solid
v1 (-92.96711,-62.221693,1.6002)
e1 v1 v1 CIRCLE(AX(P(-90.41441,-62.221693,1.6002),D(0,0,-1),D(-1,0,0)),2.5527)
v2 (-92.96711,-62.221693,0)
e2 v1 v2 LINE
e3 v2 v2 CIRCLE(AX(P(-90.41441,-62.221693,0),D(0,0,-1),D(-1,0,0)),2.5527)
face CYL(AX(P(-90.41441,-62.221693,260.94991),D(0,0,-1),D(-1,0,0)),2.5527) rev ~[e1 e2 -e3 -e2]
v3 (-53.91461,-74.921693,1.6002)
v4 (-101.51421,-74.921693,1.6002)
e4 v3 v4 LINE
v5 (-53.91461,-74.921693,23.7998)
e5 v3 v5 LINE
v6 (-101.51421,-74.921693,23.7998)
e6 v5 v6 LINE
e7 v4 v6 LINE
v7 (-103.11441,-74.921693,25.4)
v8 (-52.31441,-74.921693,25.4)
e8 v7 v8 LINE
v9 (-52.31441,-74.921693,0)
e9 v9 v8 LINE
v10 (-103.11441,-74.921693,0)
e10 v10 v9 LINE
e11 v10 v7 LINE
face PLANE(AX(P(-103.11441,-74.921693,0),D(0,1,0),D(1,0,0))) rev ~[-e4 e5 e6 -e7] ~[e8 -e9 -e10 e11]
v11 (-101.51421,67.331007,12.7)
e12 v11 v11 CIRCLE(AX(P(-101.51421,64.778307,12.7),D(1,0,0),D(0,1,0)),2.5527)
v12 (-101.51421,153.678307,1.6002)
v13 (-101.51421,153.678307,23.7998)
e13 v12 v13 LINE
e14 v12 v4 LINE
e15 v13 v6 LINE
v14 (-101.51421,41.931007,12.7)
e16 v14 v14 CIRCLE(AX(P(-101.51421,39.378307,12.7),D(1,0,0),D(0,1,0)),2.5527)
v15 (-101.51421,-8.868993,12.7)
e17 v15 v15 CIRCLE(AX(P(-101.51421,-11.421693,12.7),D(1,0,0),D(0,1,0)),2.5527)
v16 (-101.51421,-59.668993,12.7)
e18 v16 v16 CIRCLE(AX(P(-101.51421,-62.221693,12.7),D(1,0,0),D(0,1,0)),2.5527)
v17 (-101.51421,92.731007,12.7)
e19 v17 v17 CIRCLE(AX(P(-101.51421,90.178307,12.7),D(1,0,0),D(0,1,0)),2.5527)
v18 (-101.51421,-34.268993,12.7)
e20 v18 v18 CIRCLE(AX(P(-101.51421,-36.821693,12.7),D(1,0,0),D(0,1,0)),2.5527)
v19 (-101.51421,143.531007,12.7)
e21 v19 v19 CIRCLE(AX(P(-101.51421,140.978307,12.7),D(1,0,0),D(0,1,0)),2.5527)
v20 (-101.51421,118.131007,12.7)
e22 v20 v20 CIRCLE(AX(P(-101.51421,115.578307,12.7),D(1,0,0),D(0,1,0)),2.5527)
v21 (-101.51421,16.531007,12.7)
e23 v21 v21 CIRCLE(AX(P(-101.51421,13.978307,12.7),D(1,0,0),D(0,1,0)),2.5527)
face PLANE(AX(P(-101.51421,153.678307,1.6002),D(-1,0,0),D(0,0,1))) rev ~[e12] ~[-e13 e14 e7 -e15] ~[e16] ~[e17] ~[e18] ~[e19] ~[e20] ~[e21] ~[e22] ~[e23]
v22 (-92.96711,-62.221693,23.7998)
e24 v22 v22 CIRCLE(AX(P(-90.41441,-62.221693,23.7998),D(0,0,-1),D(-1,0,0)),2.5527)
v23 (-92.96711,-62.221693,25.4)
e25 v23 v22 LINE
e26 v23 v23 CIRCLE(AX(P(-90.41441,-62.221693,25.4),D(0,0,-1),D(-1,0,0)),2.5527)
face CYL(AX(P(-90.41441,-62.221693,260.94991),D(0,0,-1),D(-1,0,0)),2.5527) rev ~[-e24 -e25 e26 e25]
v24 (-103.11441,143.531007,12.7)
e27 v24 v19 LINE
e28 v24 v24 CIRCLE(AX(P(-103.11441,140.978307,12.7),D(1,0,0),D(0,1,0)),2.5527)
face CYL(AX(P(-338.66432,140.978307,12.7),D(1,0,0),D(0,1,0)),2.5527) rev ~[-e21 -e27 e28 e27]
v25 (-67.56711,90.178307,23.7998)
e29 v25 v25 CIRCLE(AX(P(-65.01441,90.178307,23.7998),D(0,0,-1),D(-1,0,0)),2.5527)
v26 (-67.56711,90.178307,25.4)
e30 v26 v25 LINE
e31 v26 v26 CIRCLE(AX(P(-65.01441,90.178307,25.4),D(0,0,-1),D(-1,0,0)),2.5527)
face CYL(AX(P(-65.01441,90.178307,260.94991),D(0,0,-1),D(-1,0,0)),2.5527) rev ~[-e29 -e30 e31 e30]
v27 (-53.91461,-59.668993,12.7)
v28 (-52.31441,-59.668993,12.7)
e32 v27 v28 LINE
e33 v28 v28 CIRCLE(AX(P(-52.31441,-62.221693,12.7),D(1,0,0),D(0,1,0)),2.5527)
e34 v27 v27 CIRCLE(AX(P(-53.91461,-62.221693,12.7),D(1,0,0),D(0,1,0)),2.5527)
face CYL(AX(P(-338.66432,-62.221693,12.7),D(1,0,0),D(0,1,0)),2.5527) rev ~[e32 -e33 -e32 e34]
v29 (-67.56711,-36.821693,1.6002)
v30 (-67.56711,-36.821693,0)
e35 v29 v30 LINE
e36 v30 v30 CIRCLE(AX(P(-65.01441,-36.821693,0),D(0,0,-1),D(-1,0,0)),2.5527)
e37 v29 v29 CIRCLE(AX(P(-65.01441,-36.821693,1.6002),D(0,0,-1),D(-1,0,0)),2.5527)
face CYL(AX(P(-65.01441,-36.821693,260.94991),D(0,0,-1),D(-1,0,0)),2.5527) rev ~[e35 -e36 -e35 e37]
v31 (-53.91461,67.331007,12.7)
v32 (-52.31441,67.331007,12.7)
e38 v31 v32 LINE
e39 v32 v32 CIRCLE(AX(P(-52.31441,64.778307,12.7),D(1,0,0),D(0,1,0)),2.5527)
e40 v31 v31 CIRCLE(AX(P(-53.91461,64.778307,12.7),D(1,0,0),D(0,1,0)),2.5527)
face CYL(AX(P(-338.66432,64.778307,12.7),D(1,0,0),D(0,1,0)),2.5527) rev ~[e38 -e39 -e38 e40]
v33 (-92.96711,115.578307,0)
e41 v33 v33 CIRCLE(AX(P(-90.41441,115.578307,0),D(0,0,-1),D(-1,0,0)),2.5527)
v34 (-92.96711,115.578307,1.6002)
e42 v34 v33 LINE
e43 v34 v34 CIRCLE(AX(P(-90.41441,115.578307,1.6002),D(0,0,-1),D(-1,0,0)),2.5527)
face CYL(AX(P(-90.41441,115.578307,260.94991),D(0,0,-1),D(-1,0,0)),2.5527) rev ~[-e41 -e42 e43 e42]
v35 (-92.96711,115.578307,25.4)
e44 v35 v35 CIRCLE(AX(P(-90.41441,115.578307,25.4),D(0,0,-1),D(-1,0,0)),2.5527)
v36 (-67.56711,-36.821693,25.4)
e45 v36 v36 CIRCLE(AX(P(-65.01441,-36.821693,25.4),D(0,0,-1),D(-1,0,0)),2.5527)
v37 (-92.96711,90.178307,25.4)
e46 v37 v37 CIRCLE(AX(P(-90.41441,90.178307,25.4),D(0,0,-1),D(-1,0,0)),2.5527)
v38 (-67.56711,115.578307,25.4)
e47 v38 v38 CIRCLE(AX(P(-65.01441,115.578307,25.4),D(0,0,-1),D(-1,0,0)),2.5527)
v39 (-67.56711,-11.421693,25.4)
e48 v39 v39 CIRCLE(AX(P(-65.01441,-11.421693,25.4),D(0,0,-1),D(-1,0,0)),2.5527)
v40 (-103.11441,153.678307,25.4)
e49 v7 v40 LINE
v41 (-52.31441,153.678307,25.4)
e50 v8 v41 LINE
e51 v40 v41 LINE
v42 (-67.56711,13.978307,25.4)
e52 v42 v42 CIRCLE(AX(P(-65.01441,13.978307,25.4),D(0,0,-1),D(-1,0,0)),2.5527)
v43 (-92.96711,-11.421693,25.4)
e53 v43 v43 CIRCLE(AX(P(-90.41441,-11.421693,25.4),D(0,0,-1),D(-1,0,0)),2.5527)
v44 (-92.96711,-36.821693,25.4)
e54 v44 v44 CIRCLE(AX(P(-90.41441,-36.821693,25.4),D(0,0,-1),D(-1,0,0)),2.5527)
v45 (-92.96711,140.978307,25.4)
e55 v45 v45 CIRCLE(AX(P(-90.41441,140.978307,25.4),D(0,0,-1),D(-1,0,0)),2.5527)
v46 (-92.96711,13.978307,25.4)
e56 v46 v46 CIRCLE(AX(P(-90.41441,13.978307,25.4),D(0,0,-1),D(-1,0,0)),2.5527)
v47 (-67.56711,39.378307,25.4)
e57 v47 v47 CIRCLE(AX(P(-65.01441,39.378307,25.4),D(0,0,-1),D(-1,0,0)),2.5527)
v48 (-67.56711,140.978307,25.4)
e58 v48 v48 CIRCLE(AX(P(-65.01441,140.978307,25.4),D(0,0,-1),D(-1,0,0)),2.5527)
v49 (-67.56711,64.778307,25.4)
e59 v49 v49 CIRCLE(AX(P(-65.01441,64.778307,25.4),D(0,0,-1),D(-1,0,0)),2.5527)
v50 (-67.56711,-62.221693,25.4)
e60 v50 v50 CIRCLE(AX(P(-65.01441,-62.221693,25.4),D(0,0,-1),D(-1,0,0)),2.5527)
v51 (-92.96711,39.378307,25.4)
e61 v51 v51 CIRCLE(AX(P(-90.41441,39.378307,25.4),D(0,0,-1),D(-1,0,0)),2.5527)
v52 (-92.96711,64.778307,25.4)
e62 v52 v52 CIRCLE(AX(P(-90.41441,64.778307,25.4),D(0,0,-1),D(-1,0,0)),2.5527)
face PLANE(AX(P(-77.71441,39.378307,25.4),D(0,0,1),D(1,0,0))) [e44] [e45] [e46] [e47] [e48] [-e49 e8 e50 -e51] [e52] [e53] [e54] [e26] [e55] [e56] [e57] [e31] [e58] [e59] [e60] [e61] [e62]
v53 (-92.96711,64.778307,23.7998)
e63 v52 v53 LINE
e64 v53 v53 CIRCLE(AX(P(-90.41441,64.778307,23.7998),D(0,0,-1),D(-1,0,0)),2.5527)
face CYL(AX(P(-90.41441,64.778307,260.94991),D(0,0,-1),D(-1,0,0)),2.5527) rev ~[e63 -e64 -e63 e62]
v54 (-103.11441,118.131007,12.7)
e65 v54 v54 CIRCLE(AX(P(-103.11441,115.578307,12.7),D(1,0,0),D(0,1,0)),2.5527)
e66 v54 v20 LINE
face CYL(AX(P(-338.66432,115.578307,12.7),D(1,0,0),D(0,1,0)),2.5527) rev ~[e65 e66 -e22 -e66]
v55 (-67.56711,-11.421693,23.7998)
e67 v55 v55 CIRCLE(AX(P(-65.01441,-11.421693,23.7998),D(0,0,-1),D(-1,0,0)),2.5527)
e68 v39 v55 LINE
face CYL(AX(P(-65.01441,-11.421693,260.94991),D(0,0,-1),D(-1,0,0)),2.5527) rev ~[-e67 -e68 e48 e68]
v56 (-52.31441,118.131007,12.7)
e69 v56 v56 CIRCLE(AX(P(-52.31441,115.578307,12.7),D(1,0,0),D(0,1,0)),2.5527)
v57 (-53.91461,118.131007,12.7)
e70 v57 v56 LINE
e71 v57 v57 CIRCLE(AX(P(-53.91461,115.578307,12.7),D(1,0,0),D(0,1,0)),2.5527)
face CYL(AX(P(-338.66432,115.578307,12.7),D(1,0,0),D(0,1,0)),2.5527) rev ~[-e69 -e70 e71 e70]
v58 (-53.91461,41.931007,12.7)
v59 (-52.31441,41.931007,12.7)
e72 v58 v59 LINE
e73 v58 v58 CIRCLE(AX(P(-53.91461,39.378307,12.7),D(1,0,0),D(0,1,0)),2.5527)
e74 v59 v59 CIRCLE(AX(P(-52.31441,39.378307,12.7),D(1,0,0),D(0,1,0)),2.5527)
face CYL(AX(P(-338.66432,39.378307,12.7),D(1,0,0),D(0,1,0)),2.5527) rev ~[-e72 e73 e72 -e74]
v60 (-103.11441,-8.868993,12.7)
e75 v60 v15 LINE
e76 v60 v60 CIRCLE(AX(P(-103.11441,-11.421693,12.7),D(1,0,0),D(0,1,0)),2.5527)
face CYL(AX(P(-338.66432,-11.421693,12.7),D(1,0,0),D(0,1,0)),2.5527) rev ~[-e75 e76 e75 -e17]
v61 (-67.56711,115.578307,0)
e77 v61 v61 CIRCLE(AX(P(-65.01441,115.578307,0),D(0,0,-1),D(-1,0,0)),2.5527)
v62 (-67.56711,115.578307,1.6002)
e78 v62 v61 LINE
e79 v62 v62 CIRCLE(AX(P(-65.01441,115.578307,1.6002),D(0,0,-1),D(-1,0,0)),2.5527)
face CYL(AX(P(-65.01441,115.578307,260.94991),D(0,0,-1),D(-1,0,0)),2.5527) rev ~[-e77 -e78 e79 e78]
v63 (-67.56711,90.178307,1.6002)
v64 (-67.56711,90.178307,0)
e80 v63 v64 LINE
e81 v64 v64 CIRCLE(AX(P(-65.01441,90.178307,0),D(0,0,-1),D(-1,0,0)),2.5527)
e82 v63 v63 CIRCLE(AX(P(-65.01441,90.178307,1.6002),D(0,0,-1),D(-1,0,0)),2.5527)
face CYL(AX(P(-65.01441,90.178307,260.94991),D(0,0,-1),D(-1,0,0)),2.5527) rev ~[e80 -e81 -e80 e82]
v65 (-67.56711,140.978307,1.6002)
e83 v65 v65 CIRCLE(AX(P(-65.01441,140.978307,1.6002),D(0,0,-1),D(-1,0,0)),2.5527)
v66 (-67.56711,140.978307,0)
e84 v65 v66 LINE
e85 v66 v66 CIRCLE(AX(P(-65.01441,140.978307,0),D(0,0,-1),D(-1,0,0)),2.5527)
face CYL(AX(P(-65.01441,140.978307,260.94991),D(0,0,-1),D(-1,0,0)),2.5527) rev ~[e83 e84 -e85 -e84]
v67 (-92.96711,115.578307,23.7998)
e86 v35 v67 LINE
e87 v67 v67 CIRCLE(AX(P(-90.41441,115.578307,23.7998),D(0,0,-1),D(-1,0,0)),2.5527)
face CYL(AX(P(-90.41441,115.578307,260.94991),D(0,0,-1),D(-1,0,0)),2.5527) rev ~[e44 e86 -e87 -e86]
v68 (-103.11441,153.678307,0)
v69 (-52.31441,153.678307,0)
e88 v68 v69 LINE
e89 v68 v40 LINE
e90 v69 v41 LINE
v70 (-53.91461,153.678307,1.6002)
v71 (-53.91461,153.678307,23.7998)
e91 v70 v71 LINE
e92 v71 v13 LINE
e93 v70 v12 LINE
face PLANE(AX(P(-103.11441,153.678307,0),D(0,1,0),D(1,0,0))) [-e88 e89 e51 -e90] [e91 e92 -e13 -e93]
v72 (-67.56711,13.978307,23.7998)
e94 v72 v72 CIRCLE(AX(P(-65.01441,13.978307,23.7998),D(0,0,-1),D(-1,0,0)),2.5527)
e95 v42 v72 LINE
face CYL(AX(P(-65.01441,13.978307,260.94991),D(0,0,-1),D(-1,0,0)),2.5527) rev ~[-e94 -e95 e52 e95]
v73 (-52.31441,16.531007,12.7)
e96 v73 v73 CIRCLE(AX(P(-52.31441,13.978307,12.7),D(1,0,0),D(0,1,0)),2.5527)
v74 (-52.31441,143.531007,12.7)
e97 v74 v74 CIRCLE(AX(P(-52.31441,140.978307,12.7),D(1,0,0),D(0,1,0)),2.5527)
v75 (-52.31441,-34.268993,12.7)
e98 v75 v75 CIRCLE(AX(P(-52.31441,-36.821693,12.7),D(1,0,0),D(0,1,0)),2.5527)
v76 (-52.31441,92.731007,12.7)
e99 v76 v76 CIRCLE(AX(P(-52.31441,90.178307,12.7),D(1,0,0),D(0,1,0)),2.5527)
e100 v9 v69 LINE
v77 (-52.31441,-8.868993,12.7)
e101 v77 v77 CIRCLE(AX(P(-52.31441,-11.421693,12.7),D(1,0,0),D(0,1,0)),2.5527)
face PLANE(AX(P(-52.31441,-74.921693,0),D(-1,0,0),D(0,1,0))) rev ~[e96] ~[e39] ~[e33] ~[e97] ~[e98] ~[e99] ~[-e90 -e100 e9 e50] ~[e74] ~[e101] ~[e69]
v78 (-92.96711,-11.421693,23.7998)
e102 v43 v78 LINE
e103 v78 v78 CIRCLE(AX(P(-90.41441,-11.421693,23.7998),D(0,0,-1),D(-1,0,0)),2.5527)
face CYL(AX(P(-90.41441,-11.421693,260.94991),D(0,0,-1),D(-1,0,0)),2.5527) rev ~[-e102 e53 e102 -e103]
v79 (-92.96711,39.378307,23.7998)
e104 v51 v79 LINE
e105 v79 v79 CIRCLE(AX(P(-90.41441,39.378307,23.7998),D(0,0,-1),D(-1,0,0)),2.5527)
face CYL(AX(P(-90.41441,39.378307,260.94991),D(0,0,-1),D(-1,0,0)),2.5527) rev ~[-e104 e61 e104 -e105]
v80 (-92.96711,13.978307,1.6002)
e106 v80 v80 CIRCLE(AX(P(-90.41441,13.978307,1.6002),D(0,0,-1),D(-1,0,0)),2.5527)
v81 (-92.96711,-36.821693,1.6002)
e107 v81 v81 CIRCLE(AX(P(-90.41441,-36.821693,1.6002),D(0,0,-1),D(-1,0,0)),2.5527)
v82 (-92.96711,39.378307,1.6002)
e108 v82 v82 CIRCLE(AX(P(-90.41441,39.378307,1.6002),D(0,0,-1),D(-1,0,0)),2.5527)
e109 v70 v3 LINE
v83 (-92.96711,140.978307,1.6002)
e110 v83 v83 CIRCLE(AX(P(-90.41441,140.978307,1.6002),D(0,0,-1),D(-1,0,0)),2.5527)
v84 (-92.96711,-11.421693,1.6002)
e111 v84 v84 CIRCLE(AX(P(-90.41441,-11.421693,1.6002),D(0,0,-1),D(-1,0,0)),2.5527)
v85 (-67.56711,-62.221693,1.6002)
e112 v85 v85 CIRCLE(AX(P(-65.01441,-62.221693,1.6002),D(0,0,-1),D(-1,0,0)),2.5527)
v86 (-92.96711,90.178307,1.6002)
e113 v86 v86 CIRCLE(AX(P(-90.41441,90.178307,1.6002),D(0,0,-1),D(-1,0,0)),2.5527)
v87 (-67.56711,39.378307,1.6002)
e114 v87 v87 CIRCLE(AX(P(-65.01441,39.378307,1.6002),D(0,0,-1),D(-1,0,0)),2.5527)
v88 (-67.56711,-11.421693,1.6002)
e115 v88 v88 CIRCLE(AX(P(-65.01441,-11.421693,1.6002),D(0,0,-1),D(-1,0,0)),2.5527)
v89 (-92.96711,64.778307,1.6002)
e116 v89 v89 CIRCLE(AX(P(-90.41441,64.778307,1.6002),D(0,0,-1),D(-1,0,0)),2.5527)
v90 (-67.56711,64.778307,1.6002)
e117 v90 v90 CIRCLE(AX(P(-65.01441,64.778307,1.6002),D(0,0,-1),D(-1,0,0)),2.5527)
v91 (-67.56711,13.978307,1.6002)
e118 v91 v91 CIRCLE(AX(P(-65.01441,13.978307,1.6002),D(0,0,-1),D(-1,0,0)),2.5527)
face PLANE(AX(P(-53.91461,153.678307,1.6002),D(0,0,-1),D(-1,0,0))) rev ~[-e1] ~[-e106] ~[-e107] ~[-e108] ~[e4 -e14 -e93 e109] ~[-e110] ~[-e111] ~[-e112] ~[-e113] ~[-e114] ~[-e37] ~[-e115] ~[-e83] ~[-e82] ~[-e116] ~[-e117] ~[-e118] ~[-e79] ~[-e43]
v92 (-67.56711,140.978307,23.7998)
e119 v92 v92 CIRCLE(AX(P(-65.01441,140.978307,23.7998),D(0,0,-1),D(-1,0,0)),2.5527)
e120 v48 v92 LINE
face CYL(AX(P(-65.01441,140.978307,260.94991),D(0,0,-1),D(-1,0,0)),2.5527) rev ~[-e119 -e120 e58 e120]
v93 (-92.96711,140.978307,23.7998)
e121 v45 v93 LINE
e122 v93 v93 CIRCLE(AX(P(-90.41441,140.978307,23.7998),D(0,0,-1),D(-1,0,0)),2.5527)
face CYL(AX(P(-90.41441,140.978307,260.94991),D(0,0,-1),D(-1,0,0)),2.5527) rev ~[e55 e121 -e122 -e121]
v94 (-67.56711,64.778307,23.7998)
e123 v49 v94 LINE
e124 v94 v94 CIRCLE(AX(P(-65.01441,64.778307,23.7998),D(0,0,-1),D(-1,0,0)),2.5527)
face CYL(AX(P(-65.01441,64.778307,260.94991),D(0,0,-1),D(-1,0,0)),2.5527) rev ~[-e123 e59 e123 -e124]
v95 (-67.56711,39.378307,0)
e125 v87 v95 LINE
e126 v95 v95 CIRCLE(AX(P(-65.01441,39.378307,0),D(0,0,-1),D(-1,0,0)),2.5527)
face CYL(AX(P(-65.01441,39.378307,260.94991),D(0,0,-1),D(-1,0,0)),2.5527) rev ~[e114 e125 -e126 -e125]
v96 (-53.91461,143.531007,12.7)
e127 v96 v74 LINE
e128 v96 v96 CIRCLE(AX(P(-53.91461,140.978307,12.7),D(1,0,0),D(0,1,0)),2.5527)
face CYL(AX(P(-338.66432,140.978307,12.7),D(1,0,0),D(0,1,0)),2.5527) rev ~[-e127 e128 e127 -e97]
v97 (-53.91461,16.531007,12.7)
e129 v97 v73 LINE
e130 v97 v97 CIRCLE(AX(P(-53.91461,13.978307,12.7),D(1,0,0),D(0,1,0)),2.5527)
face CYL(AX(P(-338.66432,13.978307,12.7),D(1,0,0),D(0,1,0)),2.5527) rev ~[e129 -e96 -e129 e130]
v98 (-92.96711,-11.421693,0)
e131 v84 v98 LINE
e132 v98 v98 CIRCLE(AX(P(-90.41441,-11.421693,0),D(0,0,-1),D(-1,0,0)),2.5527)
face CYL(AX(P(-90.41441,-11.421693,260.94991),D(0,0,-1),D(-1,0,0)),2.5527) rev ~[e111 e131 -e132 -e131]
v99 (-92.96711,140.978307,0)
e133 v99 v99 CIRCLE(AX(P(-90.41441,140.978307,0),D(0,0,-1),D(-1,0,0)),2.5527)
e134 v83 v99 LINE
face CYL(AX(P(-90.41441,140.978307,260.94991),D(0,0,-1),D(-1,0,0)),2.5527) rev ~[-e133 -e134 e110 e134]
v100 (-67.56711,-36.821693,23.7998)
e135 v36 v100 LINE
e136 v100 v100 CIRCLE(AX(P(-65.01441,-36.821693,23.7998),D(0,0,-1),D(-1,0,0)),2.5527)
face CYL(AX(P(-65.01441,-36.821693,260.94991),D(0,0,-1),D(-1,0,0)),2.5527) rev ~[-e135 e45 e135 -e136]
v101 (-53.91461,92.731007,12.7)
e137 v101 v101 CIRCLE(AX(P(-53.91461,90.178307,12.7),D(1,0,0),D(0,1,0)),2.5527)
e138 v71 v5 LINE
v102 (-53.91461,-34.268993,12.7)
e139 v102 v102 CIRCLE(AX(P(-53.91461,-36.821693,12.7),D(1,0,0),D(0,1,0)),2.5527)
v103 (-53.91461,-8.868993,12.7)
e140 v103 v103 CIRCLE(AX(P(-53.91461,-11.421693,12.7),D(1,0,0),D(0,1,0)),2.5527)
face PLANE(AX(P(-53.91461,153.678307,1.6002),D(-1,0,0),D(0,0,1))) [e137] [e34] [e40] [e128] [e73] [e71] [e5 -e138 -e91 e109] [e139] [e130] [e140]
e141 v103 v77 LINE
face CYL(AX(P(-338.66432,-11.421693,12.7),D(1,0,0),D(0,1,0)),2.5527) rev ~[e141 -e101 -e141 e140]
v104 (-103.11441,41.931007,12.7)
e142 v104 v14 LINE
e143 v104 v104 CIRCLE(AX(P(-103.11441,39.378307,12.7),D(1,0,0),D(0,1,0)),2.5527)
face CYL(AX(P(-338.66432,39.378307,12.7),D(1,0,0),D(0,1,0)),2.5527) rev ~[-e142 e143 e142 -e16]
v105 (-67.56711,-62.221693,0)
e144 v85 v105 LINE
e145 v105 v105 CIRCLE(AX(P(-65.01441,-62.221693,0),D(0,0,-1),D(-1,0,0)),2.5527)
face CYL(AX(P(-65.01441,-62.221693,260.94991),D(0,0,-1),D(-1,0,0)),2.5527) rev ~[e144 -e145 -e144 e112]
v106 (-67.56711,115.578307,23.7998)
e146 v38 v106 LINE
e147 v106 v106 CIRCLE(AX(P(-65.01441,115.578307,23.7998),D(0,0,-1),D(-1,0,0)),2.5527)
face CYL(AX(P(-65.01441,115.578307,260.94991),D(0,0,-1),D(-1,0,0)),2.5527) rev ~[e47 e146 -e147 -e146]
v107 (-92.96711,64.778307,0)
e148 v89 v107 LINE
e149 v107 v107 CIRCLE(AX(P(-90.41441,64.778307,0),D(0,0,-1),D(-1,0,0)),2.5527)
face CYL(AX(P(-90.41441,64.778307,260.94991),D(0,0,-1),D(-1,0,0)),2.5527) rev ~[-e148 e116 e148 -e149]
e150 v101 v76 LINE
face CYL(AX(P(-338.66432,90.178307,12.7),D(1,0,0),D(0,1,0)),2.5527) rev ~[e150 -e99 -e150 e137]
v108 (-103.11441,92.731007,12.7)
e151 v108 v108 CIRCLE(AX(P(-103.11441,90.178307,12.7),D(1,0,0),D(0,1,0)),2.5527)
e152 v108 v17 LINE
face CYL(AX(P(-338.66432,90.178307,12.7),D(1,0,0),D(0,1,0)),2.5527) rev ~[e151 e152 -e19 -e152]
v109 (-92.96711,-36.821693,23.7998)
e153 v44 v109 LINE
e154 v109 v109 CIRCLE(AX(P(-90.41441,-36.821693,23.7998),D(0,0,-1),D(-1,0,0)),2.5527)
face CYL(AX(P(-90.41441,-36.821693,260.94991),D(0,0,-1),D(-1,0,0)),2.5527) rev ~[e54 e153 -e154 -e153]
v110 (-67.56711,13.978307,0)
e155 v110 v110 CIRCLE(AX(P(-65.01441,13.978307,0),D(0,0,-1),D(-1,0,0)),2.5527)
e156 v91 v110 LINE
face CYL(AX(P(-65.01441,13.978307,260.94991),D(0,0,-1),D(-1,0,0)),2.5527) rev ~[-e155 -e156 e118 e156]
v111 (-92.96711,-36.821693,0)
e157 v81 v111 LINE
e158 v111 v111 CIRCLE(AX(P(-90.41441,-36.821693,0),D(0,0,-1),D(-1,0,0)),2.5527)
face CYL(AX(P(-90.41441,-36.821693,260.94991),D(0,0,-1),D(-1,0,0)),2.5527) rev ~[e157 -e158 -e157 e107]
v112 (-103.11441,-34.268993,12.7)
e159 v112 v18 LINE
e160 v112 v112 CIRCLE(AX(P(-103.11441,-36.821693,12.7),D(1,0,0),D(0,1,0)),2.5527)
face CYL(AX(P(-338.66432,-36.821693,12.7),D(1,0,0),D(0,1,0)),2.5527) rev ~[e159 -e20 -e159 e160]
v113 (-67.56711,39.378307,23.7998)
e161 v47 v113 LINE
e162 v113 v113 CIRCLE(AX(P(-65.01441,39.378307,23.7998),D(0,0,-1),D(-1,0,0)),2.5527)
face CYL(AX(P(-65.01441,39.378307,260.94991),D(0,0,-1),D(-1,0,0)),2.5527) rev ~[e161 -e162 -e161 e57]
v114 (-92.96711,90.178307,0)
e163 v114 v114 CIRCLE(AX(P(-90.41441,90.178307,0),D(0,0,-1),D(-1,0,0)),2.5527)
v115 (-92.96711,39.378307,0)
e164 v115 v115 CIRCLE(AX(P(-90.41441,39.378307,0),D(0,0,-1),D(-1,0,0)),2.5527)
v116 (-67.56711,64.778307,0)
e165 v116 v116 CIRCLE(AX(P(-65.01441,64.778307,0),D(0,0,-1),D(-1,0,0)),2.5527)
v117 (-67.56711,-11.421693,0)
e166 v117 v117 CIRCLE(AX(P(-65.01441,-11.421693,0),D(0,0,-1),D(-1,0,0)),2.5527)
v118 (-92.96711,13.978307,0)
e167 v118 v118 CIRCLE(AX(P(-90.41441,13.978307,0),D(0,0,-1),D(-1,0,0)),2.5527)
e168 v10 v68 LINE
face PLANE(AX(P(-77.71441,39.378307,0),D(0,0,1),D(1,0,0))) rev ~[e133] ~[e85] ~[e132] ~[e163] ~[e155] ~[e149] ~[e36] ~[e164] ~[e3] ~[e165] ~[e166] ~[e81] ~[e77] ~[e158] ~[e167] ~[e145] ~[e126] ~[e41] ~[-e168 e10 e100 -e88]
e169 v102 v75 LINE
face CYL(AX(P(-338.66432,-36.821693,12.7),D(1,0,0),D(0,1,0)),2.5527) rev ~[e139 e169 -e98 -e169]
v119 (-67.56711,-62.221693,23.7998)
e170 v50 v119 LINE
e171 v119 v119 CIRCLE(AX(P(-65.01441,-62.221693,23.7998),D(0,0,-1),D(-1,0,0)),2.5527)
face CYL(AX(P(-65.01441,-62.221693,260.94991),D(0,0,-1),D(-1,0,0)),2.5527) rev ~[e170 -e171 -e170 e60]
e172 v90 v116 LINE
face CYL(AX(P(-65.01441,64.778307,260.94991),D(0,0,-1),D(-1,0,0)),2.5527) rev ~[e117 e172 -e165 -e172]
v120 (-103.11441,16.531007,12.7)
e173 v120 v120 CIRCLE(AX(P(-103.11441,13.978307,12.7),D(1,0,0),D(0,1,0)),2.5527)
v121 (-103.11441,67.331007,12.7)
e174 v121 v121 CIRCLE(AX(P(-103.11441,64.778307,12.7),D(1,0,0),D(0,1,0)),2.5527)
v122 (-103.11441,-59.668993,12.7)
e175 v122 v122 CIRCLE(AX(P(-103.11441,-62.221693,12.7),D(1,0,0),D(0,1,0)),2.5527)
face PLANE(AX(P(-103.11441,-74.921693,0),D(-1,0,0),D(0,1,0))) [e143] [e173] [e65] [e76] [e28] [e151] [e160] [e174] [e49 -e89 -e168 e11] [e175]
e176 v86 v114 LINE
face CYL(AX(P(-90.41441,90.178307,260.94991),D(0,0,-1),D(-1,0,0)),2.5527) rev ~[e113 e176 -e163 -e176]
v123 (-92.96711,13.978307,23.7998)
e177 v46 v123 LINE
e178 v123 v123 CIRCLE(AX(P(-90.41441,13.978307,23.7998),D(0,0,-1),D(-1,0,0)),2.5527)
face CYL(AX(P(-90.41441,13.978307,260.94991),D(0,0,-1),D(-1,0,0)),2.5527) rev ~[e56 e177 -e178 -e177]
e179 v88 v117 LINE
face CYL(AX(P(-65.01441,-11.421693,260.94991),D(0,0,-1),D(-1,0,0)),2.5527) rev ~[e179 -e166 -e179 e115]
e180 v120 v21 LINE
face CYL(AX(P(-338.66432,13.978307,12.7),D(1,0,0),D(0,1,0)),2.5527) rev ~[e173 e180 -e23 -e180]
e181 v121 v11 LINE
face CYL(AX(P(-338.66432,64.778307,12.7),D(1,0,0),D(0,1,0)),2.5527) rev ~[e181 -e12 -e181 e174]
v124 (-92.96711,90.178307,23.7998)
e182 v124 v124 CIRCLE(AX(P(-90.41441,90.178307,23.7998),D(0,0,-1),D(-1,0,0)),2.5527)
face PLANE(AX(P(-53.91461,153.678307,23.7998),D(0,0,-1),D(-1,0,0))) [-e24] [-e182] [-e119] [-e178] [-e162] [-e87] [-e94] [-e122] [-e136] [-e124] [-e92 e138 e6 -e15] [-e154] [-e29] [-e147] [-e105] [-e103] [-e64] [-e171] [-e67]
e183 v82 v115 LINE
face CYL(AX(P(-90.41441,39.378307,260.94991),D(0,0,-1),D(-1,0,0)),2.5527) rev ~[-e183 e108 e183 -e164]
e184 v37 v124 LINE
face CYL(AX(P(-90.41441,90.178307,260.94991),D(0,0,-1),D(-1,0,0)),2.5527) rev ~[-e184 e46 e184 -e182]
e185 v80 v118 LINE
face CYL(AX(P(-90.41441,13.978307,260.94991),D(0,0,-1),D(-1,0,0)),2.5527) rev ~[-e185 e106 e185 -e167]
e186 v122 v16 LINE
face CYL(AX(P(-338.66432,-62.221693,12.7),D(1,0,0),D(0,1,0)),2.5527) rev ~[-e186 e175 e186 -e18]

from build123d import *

# Parameters (mm, degrees)
F0_W     = 50.8
F0_H     = 228.6
F1_DEPTH = 25.4
F2_W     = 47.5996
F2_H     = 22.1996
F3_DEPTH = 228.601
F5_D     = 5.1054
F7_D     = 5.1054


with BuildPart() as f1:
    # F0 (on Top) → F1 (new body)
    with BuildSketch(Plane.XY):
        with Locations((-77.71441, 39.378307)):
            Rectangle(F0_W, F0_H)
    extrude(amount=F1_DEPTH)

    # F2 (on face) → F3 (cut, through all)
    with BuildSketch(Plane(origin=(0, 153.678307, 0), x_dir=(-1, 0, 0), z_dir=(0, 1, 0))):
        with Locations((77.71441, 12.7)):
            Rectangle(F2_W, F2_H)
    extrude(amount=-F3_DEPTH, mode=Mode.SUBTRACT)

    # F5 (through all)
    with Locations(Plane.XY.offset(25.4)):
        with Locations((-65.01441, 39.378307), (-65.01441, -36.821693), (-65.01441, 13.978307), (-65.01441, 115.578307), (-65.01441, 90.178307), (-65.01441, 140.978307), (-65.01441, 64.778307), (-90.41441, 140.978307), (-90.41441, 115.578307), (-90.41441, 90.178307), (-90.41441, 64.778307), (-90.41441, 39.378307), (-90.41441, 13.978307), (-90.41441, -11.421693), (-90.41441, -36.821693), (-65.01441, -62.221693), (-90.41441, -62.221693), (-65.01441, -11.421693)):
            Hole(F5_D / 2)

    # F7 (through all)
    with Locations(Plane(origin=(-103.11441, 0, 0), x_dir=(0, -1, 0), z_dir=(-1, 0, 0))):
        with Locations((-140.978307, 12.7), (-90.178307, 12.7), (-115.578307, 12.7), (-39.378307, 12.7), (-64.778307, 12.7), (11.421693, 12.7), (-13.978307, 12.7), (62.221693, 12.7), (36.821693, 12.7)):
            Hole(F7_D / 2)


solid = f1.part
